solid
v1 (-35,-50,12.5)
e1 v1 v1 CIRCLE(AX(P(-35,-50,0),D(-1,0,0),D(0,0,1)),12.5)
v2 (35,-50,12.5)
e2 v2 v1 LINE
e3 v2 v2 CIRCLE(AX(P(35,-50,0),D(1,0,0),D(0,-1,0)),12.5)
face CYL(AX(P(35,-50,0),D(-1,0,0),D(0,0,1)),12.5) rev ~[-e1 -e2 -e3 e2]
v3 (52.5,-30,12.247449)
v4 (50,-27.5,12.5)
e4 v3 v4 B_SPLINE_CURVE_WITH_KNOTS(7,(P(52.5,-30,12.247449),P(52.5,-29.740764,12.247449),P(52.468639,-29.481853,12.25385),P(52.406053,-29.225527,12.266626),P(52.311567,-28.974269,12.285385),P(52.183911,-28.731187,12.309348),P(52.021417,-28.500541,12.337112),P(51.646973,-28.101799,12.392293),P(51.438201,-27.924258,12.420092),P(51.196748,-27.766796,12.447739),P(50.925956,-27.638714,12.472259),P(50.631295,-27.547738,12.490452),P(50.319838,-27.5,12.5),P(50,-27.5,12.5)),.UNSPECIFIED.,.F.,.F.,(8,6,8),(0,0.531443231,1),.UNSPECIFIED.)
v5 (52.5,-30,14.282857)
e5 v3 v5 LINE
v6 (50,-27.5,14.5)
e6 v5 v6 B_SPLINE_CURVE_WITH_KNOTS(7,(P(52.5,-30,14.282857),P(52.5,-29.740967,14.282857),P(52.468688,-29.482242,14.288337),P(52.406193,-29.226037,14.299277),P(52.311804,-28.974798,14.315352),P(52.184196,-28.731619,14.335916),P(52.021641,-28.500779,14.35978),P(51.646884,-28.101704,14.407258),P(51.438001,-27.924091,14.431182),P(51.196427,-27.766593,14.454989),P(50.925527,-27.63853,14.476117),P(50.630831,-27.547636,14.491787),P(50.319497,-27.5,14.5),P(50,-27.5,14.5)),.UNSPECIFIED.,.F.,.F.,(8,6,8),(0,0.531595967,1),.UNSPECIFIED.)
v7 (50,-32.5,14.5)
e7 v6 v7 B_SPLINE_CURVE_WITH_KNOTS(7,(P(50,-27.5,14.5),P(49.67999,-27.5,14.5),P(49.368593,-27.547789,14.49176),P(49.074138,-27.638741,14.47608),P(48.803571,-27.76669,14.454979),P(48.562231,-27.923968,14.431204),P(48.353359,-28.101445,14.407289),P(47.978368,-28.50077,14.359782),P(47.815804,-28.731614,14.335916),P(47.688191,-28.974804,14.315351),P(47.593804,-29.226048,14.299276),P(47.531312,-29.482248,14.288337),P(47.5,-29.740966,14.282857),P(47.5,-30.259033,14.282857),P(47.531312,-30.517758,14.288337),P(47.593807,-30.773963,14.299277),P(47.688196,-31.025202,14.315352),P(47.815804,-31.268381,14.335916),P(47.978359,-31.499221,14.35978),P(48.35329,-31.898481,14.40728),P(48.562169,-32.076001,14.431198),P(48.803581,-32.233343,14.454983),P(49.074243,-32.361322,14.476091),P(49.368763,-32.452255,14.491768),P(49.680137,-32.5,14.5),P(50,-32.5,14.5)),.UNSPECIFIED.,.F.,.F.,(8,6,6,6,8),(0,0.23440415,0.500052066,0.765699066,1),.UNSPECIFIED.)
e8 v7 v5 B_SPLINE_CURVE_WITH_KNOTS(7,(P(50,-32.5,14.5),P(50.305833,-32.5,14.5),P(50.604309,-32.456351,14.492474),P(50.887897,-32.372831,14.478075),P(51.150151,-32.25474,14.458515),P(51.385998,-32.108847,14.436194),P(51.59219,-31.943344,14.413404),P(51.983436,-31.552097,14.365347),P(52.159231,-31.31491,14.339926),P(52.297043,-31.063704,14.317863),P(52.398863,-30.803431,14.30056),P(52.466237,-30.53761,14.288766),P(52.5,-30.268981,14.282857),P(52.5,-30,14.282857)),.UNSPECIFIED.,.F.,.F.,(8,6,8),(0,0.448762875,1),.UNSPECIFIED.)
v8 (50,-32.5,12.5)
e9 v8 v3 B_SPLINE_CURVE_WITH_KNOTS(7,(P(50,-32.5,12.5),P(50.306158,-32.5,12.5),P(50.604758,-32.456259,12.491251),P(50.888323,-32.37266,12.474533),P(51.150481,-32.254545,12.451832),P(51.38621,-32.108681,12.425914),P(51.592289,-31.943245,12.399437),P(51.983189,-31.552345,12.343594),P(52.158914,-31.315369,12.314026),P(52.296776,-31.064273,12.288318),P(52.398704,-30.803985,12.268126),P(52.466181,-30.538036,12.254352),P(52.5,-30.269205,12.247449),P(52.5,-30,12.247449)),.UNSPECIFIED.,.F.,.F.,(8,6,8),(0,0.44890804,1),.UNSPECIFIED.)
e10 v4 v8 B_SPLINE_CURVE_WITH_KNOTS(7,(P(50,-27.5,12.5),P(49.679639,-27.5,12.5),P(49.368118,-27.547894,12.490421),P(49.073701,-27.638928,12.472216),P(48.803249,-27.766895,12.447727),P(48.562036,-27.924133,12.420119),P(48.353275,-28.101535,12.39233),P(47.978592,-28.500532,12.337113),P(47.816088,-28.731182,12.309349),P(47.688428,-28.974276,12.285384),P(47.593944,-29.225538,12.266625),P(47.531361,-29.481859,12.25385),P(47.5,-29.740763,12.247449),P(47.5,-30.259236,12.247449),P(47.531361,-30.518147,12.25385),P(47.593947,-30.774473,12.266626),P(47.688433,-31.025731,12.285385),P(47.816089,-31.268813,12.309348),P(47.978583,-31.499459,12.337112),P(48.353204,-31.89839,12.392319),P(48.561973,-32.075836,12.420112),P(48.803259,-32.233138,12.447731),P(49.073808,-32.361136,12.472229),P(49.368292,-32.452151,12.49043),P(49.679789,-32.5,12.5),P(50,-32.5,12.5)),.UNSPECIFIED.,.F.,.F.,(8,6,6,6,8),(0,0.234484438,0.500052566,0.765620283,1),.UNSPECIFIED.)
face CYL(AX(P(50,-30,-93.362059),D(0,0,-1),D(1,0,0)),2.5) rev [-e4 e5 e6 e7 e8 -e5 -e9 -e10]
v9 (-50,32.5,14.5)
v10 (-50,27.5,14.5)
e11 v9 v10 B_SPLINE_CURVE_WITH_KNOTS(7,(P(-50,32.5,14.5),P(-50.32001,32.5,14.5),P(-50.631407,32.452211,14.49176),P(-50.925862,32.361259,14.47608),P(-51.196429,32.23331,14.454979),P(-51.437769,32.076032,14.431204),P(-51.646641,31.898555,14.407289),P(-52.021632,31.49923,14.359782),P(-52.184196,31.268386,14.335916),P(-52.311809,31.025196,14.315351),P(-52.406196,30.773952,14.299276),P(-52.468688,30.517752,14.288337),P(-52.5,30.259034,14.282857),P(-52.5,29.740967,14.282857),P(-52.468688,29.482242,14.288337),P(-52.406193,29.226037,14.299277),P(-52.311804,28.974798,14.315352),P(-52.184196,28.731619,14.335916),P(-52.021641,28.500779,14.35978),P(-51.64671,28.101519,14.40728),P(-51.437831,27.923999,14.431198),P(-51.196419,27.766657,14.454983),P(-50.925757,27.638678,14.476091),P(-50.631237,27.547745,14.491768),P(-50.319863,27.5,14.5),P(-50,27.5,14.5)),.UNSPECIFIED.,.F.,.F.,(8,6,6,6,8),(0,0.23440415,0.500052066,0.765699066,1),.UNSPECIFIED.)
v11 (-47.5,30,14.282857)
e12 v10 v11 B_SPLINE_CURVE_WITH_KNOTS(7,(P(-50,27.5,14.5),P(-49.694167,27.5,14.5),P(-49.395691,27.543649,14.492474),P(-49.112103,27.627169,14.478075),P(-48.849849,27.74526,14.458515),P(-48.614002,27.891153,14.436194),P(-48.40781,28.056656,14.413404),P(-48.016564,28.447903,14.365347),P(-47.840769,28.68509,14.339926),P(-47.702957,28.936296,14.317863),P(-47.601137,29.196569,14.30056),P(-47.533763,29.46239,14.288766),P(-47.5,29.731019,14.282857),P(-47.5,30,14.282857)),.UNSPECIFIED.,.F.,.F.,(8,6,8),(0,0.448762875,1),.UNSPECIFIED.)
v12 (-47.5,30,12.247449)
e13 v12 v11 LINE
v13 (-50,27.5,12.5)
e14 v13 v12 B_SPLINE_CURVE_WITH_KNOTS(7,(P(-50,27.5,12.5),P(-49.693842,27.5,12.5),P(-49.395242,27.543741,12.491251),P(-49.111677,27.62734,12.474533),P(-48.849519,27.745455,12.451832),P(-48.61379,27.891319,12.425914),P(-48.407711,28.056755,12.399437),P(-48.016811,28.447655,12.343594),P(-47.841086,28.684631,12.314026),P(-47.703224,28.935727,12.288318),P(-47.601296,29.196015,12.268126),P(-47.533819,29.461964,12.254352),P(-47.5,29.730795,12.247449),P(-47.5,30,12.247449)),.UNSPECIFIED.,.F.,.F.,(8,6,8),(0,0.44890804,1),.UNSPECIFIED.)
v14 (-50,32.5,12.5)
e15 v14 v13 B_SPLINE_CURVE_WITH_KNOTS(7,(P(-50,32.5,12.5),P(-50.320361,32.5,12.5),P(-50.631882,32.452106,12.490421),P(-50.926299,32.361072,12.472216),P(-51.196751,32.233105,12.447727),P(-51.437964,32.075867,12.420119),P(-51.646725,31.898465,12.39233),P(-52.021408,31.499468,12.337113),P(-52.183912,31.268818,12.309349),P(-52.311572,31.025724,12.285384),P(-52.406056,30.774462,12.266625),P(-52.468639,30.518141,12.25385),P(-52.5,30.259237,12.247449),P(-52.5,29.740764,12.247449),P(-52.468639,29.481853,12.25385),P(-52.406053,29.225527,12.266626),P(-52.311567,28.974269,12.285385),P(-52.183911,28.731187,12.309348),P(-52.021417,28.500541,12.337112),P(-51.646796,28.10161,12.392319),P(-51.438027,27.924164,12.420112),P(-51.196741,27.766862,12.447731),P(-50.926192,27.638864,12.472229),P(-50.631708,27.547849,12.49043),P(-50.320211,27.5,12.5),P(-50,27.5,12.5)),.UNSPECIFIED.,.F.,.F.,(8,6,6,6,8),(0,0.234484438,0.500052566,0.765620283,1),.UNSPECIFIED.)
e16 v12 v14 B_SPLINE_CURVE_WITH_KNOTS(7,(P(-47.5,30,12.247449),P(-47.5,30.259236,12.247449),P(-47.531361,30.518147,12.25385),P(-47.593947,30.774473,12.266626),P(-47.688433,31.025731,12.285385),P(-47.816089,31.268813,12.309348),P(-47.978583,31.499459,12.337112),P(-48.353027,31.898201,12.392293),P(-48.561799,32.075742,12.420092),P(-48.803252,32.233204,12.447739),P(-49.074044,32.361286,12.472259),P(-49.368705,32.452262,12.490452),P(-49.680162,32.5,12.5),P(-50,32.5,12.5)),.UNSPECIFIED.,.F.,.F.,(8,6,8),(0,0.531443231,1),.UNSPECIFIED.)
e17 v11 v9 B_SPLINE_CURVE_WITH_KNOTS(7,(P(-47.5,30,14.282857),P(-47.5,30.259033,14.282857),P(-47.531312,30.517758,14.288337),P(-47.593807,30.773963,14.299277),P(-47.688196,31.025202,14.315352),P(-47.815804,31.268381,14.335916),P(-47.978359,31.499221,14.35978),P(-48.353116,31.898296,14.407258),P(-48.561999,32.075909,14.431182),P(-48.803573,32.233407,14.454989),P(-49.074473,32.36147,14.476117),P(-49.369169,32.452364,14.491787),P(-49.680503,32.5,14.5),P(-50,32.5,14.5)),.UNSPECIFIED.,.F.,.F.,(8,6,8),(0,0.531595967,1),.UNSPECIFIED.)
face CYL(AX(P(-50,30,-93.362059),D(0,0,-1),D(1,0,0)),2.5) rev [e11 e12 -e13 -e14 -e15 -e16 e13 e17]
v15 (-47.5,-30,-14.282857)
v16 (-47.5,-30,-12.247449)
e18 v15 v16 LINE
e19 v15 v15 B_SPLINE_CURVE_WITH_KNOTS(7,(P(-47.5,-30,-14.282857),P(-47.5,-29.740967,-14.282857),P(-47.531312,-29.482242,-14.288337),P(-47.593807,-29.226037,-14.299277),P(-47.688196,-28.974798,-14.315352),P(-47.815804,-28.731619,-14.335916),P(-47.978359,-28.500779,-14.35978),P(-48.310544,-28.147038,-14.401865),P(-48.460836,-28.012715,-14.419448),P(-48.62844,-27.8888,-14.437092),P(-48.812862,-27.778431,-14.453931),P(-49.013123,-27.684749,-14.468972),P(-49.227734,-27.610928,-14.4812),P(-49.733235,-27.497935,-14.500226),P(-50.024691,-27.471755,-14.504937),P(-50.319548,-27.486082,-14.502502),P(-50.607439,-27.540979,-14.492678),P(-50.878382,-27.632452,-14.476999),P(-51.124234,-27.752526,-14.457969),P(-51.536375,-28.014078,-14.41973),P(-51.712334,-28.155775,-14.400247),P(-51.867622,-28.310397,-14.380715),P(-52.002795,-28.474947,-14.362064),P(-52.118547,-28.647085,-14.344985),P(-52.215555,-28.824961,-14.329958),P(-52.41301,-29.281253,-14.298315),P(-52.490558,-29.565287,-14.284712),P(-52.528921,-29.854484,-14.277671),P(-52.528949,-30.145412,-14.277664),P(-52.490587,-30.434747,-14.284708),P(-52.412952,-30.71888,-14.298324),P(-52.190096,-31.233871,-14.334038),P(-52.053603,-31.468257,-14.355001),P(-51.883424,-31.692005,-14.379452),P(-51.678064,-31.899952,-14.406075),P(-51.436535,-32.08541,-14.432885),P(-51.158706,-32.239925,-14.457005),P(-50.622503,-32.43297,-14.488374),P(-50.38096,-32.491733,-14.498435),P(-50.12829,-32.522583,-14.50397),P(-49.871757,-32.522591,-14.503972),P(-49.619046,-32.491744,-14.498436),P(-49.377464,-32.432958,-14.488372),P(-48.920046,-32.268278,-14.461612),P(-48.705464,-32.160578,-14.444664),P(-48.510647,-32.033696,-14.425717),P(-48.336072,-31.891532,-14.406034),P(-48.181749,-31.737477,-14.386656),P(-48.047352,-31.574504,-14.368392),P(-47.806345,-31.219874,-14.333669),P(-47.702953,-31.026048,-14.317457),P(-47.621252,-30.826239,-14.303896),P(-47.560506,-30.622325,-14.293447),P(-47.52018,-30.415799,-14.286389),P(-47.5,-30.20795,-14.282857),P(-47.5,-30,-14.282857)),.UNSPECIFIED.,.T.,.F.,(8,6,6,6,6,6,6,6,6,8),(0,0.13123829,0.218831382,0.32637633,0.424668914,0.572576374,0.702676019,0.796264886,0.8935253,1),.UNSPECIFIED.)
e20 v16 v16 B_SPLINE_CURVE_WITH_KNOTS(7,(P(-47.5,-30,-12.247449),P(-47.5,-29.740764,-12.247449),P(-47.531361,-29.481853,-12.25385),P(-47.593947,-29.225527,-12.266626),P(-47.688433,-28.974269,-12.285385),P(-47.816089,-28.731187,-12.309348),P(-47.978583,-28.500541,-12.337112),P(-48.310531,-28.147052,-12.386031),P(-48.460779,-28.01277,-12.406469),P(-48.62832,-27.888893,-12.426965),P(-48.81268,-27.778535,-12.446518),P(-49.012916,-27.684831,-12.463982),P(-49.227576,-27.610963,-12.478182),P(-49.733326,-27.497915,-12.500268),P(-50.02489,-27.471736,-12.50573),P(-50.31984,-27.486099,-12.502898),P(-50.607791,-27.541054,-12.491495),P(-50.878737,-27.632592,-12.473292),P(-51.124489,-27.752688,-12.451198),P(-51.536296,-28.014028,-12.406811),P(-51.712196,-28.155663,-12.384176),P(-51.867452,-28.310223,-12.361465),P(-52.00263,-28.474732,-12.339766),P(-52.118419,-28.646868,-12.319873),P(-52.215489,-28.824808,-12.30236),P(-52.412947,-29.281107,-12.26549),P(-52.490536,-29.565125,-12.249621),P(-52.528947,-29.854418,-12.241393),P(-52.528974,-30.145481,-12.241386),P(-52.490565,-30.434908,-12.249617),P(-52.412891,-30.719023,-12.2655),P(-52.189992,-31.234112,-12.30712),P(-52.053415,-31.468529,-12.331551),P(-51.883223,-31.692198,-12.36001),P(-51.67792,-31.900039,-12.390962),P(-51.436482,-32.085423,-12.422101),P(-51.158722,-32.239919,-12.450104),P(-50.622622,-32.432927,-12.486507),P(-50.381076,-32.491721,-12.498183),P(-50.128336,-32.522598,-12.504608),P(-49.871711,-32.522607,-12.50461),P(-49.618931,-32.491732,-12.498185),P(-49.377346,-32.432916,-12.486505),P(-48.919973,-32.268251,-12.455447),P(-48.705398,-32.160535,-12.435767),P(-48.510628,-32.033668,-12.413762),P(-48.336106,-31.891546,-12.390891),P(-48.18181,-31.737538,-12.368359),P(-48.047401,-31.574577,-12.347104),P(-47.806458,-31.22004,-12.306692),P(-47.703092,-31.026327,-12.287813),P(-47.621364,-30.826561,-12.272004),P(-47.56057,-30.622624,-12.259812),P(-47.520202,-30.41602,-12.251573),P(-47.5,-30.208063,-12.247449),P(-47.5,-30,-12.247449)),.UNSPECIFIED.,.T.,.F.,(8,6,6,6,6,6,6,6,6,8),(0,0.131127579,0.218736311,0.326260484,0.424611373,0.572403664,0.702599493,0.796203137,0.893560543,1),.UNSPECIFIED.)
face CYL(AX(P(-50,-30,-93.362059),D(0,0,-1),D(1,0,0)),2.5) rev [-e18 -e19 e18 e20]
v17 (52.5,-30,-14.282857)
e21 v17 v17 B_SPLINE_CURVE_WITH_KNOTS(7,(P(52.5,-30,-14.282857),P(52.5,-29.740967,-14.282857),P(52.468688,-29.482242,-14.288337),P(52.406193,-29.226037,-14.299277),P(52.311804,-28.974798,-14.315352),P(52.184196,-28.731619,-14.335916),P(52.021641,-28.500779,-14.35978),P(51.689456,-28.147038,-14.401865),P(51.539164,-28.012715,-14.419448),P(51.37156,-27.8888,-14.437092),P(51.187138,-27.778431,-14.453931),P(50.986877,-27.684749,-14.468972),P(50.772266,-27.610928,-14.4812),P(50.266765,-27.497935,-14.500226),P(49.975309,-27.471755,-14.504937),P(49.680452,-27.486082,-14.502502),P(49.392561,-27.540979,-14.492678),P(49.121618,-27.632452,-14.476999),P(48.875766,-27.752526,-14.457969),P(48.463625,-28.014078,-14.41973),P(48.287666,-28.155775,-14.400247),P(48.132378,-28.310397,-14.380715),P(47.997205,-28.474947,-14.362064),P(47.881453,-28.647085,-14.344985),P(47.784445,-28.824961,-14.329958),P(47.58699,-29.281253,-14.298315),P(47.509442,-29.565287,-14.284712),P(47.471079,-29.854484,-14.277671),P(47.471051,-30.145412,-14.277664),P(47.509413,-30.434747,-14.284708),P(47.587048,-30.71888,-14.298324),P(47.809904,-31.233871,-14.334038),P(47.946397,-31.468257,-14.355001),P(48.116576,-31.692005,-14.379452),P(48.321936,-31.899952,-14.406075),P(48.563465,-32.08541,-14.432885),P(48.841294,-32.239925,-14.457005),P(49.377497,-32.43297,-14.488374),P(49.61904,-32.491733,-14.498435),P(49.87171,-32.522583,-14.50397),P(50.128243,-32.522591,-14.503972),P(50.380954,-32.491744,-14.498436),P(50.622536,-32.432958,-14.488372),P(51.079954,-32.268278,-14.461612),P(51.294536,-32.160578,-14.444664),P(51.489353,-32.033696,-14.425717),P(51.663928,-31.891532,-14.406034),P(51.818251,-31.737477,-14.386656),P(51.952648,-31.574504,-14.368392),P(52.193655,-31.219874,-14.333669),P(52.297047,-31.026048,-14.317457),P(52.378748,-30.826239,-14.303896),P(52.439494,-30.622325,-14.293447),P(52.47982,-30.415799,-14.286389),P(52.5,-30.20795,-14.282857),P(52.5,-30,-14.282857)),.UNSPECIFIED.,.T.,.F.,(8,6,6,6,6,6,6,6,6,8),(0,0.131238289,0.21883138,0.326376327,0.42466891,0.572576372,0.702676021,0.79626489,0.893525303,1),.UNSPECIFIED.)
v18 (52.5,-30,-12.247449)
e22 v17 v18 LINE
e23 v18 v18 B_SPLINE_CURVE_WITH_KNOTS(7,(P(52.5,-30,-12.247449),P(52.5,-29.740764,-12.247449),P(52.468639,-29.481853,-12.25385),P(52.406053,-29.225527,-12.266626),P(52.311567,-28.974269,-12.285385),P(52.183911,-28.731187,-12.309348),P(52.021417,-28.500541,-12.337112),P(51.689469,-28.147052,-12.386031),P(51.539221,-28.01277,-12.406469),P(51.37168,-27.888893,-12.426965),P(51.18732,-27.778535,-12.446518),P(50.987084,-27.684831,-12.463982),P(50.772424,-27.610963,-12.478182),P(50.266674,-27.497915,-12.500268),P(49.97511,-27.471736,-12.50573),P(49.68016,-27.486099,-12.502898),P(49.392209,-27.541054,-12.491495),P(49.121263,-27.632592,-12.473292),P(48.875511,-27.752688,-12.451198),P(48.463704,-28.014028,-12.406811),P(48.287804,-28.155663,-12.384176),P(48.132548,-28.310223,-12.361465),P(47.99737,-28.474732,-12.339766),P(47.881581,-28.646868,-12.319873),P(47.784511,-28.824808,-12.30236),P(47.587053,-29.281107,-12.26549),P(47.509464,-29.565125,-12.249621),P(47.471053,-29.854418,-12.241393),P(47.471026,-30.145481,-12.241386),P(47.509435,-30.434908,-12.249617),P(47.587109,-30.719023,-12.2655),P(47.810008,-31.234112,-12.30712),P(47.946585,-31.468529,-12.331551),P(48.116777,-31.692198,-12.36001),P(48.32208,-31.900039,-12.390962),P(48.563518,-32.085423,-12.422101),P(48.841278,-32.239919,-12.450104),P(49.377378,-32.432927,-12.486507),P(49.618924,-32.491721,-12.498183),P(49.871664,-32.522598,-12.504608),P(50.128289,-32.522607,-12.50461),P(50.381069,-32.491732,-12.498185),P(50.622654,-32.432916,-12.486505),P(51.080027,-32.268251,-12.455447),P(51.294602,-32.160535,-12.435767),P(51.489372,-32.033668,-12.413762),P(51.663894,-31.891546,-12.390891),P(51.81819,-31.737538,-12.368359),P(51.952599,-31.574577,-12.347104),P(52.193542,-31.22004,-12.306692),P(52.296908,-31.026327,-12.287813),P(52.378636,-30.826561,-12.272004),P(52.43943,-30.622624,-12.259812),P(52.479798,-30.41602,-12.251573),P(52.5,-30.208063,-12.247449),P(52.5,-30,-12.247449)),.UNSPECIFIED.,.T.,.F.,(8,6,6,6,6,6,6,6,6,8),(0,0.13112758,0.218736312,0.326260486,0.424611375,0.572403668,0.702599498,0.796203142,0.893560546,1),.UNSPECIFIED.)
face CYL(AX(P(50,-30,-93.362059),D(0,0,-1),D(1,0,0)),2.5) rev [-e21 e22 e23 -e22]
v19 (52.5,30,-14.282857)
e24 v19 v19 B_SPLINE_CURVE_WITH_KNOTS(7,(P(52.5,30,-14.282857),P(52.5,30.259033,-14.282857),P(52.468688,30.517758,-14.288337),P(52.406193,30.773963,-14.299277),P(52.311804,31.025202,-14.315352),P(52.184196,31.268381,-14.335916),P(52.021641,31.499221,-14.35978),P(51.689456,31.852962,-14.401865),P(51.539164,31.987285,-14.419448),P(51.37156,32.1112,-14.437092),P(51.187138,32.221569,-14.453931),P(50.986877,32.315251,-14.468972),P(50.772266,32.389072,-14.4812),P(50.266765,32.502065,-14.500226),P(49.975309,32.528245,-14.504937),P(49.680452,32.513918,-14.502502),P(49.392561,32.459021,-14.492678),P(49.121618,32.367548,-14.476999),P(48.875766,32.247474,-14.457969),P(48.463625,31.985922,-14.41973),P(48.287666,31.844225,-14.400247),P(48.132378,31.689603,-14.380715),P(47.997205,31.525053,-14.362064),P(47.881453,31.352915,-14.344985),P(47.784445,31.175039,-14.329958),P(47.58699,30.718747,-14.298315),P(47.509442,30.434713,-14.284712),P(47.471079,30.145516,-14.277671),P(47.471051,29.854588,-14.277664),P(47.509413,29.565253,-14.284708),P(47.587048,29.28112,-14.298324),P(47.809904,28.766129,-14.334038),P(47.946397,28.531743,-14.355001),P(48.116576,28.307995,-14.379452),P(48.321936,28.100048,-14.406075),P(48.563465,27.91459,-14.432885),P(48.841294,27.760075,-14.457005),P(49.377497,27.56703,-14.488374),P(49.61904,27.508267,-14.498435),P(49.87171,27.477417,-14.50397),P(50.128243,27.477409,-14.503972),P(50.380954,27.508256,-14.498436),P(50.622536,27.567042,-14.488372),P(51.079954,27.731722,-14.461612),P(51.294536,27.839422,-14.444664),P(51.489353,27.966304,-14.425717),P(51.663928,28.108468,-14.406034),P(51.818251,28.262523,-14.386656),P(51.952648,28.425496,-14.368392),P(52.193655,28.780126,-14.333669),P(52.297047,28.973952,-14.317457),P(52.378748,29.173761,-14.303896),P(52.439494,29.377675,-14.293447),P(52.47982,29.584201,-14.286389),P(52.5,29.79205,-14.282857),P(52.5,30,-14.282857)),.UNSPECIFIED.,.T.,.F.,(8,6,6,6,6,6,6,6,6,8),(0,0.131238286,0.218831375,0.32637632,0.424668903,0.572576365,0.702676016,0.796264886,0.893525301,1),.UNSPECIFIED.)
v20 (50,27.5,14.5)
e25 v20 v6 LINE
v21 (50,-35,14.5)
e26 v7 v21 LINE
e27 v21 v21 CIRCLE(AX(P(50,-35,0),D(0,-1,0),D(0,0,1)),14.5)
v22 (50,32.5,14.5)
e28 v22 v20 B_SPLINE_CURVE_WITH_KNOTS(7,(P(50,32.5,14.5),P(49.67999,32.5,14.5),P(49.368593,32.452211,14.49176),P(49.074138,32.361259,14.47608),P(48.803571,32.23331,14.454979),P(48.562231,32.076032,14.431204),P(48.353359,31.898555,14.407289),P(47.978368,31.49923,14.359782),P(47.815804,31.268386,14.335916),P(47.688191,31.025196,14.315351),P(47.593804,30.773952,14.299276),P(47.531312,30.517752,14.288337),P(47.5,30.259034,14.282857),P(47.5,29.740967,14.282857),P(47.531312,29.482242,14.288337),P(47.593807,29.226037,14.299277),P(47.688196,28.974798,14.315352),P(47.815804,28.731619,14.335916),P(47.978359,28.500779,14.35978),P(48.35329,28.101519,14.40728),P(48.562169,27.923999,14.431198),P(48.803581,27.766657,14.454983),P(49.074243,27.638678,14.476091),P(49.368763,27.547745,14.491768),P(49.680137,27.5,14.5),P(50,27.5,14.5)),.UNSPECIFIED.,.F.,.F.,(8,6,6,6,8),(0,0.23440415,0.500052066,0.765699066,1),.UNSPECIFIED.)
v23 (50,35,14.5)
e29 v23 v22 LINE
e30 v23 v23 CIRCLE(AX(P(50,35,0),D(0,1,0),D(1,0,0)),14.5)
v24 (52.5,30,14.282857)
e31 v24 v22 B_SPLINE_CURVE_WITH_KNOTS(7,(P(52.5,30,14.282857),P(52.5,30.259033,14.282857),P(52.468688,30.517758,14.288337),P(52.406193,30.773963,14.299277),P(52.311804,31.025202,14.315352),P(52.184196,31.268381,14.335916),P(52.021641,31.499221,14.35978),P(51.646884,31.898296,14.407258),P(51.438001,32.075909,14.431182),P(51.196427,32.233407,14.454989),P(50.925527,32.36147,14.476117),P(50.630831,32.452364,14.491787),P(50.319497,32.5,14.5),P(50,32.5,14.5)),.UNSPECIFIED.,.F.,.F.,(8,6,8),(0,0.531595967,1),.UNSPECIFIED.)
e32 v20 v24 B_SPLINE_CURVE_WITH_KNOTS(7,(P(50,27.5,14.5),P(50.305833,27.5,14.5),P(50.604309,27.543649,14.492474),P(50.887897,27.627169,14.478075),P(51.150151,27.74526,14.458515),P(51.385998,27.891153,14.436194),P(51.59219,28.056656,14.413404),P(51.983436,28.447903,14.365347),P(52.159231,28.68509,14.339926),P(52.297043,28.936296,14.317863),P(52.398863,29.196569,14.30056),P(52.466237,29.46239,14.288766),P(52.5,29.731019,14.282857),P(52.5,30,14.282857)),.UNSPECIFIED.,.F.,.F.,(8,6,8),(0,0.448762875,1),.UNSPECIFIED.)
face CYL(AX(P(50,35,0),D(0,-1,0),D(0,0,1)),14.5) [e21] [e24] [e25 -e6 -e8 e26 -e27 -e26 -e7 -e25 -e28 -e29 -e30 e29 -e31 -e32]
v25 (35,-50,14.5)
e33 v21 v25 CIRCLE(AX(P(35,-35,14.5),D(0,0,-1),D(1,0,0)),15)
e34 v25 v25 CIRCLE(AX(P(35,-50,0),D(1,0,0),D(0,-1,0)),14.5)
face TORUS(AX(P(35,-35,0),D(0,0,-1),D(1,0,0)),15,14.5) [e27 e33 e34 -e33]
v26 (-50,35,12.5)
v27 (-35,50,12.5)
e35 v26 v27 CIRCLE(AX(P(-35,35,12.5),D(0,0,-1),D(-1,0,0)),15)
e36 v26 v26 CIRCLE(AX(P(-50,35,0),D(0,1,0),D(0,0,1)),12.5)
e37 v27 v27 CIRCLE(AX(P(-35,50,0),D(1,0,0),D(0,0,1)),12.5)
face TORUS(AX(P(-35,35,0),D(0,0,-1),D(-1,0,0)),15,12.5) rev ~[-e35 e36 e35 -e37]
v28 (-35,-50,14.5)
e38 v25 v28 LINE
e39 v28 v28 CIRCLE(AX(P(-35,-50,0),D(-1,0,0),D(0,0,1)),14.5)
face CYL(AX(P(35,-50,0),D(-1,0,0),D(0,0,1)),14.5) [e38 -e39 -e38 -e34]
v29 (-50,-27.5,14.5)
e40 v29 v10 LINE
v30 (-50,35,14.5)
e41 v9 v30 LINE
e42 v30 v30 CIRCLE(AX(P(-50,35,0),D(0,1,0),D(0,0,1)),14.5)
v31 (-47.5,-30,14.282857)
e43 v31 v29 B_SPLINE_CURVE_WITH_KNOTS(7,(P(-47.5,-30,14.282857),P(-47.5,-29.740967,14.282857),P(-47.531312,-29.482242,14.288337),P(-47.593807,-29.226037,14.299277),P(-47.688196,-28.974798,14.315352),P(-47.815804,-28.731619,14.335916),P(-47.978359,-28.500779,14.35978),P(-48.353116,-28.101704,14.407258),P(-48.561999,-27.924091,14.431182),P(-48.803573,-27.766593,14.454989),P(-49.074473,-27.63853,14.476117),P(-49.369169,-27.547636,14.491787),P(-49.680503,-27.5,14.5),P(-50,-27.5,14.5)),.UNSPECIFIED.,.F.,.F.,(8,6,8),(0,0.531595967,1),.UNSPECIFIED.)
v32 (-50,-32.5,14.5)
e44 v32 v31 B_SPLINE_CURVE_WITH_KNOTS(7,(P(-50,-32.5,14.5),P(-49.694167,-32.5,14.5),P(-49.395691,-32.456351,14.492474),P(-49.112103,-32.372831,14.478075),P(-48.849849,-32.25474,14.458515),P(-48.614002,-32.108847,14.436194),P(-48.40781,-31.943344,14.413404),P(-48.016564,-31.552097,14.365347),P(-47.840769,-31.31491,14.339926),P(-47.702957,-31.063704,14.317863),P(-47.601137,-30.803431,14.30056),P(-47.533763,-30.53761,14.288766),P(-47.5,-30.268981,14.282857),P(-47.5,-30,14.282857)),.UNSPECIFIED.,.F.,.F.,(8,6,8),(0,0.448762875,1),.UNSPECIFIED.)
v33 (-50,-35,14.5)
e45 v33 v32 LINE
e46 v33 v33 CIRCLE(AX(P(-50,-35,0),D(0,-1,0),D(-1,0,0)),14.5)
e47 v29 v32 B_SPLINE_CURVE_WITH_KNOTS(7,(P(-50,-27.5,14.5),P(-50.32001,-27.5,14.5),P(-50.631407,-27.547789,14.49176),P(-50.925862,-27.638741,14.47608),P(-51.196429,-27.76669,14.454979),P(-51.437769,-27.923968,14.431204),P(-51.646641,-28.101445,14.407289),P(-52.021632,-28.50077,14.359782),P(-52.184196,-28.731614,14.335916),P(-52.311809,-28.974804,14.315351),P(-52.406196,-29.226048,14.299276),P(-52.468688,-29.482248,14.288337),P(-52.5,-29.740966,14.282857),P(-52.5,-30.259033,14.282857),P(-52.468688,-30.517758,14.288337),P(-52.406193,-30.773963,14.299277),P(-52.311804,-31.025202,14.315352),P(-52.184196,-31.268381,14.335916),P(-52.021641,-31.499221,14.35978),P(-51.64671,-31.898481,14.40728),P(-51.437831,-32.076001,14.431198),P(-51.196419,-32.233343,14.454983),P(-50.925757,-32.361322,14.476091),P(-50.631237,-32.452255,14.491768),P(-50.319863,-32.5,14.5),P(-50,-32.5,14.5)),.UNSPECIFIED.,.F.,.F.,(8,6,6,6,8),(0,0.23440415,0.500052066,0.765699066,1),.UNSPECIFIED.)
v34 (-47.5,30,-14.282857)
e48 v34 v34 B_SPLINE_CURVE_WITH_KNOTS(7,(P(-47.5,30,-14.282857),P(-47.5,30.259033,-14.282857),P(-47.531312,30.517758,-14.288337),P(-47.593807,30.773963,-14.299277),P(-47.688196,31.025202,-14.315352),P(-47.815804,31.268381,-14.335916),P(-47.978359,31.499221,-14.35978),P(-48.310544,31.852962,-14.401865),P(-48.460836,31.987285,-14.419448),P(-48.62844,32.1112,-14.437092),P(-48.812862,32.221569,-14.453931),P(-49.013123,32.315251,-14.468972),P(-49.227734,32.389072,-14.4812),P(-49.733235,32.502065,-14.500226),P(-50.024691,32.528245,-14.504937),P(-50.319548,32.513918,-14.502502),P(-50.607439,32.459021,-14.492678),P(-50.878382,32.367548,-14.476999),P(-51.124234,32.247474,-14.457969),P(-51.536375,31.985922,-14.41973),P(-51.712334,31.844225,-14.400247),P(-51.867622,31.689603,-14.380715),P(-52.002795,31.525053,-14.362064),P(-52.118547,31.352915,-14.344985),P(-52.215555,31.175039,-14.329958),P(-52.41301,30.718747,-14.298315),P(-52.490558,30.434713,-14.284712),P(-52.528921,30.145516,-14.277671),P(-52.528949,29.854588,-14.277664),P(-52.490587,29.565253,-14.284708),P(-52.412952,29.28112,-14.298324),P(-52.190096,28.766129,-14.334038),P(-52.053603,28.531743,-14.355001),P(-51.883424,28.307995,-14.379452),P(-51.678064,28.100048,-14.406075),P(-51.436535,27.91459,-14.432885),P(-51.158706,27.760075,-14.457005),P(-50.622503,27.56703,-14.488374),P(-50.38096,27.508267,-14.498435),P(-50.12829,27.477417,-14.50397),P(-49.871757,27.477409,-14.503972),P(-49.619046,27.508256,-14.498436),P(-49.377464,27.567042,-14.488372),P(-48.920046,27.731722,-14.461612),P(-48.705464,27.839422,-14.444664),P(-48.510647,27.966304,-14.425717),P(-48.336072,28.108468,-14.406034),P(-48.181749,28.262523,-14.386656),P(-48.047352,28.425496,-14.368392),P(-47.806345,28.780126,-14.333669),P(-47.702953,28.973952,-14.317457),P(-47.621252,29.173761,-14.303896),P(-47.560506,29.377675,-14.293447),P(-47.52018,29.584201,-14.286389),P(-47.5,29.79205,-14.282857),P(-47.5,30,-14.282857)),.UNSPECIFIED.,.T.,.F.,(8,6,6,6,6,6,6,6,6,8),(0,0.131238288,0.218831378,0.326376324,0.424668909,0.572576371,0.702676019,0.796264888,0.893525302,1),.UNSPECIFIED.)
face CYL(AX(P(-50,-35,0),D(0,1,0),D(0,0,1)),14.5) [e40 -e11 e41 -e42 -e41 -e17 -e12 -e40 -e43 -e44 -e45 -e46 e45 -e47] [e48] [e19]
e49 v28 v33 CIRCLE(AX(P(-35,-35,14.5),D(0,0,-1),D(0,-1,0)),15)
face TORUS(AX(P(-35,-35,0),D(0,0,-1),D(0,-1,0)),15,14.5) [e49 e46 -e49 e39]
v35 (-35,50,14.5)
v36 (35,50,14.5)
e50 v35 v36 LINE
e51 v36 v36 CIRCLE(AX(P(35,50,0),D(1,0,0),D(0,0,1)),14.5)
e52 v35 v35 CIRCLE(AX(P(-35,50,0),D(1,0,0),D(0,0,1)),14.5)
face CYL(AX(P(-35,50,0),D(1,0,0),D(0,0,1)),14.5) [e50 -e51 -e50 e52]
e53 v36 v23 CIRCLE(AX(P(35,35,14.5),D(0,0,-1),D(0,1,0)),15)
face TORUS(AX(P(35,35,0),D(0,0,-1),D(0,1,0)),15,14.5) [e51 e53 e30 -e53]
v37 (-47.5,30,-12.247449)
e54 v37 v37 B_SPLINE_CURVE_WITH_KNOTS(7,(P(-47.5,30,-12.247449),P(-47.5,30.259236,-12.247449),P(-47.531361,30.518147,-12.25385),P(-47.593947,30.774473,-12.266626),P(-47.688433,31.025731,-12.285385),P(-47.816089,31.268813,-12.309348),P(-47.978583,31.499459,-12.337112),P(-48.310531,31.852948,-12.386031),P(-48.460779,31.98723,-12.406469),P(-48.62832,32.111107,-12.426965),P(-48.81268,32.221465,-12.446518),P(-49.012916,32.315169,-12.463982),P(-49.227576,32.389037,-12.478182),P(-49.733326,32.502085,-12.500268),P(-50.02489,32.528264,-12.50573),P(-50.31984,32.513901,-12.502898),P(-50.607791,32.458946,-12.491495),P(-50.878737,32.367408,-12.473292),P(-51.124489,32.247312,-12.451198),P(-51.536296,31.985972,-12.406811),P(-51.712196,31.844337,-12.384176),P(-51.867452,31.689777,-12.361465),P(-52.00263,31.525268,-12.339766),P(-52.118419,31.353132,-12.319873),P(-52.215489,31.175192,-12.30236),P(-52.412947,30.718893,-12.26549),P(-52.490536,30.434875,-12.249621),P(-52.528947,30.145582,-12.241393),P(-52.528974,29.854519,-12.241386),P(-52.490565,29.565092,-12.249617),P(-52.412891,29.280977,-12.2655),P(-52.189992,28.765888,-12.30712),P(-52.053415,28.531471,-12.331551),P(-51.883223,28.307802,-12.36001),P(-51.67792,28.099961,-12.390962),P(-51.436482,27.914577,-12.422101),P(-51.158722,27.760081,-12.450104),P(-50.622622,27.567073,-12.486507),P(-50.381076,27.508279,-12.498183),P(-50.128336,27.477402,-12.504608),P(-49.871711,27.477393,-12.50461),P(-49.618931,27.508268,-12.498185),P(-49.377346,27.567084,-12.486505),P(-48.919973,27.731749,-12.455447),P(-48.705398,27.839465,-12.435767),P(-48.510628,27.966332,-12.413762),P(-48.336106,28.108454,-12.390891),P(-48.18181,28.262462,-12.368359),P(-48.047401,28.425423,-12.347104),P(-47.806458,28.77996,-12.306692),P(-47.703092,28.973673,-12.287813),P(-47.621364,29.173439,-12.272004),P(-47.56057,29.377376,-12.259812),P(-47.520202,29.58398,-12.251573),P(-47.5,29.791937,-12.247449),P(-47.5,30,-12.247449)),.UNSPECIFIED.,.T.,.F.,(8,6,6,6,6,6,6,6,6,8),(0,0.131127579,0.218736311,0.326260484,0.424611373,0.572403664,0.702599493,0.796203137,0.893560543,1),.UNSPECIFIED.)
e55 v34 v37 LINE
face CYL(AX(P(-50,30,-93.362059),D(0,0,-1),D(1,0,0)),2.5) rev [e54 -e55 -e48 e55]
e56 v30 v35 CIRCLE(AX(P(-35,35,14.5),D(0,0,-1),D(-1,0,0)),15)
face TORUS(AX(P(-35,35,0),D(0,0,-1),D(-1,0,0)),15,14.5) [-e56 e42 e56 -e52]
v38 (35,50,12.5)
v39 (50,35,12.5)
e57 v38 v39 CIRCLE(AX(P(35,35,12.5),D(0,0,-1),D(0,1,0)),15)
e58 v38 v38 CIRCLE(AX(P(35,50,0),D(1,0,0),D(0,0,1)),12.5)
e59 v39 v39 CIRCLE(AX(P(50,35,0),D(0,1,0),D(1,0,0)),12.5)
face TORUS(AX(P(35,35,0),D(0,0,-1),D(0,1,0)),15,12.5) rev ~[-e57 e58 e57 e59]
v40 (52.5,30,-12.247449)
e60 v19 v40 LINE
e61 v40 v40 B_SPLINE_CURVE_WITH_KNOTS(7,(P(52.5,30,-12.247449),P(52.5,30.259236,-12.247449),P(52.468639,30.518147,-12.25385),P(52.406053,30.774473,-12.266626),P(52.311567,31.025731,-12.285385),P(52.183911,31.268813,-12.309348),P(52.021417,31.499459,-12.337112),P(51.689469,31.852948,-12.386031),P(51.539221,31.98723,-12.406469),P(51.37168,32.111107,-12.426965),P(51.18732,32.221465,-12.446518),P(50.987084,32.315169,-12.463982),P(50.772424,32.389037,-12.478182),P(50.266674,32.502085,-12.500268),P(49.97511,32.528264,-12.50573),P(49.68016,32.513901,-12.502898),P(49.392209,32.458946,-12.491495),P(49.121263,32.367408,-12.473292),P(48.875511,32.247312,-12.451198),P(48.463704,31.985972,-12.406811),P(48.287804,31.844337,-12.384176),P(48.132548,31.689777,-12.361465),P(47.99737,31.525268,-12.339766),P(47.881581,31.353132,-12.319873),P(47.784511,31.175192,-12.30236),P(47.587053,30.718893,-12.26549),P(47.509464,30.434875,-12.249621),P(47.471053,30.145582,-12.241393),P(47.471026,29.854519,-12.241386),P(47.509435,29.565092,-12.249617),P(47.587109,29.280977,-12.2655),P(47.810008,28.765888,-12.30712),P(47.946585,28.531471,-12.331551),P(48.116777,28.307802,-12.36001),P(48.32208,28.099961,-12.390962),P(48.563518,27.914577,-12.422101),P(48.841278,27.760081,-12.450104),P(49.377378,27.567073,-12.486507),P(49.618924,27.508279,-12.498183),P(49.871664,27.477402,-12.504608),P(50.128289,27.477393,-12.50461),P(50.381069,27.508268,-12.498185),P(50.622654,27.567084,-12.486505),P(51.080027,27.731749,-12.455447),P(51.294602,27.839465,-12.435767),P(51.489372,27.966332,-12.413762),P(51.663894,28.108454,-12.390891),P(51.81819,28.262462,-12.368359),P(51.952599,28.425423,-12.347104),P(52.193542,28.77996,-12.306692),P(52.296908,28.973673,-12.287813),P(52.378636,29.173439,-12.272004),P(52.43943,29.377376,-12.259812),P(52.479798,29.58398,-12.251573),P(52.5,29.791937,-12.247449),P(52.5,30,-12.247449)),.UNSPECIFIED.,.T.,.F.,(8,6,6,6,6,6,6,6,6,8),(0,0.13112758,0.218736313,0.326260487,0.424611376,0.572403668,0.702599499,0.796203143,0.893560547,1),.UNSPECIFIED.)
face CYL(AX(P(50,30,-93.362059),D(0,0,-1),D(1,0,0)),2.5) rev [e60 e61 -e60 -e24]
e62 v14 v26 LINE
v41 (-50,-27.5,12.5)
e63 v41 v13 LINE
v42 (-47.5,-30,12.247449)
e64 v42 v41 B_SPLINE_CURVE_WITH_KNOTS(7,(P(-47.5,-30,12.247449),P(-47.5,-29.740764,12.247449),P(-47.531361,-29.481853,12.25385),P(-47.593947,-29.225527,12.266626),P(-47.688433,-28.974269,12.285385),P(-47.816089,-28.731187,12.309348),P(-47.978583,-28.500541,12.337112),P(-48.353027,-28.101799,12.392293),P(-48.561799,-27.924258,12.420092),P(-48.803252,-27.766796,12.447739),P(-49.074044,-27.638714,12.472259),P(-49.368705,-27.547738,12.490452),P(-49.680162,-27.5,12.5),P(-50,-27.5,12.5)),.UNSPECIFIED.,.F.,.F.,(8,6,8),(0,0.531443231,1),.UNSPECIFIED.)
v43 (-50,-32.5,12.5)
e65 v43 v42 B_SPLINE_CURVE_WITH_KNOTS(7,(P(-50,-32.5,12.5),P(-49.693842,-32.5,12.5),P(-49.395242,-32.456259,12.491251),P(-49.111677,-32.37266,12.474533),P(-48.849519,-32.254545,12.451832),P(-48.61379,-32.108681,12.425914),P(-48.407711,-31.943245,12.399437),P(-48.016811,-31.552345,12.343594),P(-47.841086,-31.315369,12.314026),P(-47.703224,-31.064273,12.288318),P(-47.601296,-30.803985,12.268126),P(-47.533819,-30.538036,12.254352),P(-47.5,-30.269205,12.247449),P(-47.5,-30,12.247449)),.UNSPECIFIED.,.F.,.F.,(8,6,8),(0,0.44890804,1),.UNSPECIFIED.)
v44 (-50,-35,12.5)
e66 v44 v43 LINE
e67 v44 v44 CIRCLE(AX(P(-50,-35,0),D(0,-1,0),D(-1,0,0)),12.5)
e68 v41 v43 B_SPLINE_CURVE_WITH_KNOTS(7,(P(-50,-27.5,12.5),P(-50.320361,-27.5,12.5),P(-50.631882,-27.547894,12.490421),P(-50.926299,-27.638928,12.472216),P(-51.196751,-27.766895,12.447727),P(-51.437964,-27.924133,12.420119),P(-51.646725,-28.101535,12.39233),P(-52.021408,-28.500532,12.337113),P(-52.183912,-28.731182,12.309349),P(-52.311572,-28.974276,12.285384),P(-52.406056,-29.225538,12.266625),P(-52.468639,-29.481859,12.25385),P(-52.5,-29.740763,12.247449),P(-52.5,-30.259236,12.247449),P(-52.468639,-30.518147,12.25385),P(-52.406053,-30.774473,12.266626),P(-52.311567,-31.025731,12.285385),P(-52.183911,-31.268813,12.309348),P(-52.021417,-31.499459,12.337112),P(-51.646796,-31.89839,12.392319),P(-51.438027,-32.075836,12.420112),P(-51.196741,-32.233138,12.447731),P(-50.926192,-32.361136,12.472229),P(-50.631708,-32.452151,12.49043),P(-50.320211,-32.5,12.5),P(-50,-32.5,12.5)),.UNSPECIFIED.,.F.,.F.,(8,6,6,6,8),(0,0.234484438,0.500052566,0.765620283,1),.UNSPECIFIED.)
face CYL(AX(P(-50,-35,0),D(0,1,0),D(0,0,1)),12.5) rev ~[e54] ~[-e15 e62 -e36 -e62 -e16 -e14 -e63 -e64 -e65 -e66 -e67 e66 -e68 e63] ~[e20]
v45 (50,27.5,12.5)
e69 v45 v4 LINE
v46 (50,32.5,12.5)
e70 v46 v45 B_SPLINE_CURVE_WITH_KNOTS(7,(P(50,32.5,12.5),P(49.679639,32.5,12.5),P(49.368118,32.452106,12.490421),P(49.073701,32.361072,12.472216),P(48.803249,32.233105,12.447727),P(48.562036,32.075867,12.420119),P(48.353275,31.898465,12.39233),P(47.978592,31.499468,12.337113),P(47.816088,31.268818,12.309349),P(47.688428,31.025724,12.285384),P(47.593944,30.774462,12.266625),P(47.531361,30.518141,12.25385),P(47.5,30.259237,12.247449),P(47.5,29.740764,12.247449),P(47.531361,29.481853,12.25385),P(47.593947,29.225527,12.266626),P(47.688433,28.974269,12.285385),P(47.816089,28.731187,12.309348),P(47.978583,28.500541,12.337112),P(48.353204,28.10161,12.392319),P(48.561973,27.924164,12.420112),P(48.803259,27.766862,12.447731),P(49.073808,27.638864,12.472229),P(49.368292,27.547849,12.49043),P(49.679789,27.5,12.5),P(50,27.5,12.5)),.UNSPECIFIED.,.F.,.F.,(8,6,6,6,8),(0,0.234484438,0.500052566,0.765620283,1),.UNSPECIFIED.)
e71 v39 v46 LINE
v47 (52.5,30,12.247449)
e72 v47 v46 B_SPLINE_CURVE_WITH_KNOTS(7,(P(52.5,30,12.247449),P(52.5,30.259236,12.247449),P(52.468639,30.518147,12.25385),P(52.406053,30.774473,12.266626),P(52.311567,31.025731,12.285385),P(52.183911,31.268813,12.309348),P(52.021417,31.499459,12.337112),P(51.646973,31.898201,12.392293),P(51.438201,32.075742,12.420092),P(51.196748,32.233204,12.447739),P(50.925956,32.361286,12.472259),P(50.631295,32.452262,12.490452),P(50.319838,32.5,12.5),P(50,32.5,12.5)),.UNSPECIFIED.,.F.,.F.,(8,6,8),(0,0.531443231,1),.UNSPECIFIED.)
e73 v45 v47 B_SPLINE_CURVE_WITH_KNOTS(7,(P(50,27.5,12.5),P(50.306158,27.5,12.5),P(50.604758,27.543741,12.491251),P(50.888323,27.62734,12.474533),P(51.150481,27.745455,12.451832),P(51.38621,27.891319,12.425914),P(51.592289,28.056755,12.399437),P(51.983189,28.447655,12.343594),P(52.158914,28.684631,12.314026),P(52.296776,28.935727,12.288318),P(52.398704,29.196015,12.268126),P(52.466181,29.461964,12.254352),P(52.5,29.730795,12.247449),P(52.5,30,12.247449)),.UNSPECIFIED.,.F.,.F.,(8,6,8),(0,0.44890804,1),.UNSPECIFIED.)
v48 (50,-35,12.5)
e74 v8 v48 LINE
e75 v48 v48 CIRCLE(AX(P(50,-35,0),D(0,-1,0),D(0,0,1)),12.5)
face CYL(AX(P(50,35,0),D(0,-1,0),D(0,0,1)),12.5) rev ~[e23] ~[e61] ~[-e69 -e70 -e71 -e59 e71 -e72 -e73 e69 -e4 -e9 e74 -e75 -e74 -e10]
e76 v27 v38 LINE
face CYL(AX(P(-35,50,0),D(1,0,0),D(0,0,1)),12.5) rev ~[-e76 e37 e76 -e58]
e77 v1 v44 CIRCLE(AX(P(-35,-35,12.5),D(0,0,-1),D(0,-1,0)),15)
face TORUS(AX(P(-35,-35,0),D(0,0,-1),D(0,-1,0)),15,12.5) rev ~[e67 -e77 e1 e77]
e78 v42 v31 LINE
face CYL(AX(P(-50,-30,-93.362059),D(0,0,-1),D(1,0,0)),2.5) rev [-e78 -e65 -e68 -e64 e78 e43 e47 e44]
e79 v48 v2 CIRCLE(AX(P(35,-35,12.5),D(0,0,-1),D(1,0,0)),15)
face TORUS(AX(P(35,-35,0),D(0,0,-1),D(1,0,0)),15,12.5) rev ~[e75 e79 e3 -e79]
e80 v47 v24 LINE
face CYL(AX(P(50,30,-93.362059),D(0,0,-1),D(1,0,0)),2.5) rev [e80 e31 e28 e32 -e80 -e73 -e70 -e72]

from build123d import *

# Parameters (mm, degrees)
BALAYAGE_MINCE1_PROFILE_R    = 14.5
BALAYAGE_MINCE1_PROFILE_R_2  = 12.5
ENL_V_MAT_EXTRU_1_DEPTH      = 93.362059465
ENL_V_MAT_EXTRU_1_DEPTH_BACK = 93.362059465
ESQUISSE24_R                 = 2.5


with BuildPart() as part:
    # Balayage-Mince1: sweep along a path in Esquisse1
    with BuildLine(Plane.XY) as balayage_mince1_path:
        Line((-35, 50), (35, 50))
        ThreePointArc((35, 50), (45.606601718, 45.606601718), (50, 35))
        Line((50, 35), (50, -35))
        ThreePointArc((50, -35), (45.606601718, -45.606601718), (35, -50))
        Line((35, -50), (-35, -50))
        ThreePointArc((-35, -50), (-45.606601718, -45.606601718), (-50, -35))
        Line((-50, -35), (-50, 35))
        ThreePointArc((-50, 35), (-45.606601718, 45.606601718), (-35, 50))
    # Balayage-Mince1 profile (on start of the path) → Balayage-Mince1 (sweep)
    with BuildSketch(Plane(origin=(-35, 50, 0), x_dir=(0, 0, 1), z_dir=(1, 0, 0))):
        Circle(BALAYAGE_MINCE1_PROFILE_R)
        Circle(BALAYAGE_MINCE1_PROFILE_R_2, mode=Mode.SUBTRACT)
    sweep(path=balayage_mince1_path.line)

    # Esquisse24 → Enlèv. mat.-Extru.1 (cut, two sides: drawn at the far end of the back side and taken through both)
    with BuildSketch(Plane.XY.offset(-ENL_V_MAT_EXTRU_1_DEPTH_BACK)):
        with Locations((-50, 30)):
            Circle(ESQUISSE24_R)
        with Locations((-50, -30)):
            Circle(ESQUISSE24_R)
        with Locations((50, 30)):
            Circle(ESQUISSE24_R)
        with Locations((50, -30)):
            Circle(ESQUISSE24_R)
    extrude(amount=ENL_V_MAT_EXTRU_1_DEPTH + ENL_V_MAT_EXTRU_1_DEPTH_BACK, mode=Mode.SUBTRACT)


solid = part.part
